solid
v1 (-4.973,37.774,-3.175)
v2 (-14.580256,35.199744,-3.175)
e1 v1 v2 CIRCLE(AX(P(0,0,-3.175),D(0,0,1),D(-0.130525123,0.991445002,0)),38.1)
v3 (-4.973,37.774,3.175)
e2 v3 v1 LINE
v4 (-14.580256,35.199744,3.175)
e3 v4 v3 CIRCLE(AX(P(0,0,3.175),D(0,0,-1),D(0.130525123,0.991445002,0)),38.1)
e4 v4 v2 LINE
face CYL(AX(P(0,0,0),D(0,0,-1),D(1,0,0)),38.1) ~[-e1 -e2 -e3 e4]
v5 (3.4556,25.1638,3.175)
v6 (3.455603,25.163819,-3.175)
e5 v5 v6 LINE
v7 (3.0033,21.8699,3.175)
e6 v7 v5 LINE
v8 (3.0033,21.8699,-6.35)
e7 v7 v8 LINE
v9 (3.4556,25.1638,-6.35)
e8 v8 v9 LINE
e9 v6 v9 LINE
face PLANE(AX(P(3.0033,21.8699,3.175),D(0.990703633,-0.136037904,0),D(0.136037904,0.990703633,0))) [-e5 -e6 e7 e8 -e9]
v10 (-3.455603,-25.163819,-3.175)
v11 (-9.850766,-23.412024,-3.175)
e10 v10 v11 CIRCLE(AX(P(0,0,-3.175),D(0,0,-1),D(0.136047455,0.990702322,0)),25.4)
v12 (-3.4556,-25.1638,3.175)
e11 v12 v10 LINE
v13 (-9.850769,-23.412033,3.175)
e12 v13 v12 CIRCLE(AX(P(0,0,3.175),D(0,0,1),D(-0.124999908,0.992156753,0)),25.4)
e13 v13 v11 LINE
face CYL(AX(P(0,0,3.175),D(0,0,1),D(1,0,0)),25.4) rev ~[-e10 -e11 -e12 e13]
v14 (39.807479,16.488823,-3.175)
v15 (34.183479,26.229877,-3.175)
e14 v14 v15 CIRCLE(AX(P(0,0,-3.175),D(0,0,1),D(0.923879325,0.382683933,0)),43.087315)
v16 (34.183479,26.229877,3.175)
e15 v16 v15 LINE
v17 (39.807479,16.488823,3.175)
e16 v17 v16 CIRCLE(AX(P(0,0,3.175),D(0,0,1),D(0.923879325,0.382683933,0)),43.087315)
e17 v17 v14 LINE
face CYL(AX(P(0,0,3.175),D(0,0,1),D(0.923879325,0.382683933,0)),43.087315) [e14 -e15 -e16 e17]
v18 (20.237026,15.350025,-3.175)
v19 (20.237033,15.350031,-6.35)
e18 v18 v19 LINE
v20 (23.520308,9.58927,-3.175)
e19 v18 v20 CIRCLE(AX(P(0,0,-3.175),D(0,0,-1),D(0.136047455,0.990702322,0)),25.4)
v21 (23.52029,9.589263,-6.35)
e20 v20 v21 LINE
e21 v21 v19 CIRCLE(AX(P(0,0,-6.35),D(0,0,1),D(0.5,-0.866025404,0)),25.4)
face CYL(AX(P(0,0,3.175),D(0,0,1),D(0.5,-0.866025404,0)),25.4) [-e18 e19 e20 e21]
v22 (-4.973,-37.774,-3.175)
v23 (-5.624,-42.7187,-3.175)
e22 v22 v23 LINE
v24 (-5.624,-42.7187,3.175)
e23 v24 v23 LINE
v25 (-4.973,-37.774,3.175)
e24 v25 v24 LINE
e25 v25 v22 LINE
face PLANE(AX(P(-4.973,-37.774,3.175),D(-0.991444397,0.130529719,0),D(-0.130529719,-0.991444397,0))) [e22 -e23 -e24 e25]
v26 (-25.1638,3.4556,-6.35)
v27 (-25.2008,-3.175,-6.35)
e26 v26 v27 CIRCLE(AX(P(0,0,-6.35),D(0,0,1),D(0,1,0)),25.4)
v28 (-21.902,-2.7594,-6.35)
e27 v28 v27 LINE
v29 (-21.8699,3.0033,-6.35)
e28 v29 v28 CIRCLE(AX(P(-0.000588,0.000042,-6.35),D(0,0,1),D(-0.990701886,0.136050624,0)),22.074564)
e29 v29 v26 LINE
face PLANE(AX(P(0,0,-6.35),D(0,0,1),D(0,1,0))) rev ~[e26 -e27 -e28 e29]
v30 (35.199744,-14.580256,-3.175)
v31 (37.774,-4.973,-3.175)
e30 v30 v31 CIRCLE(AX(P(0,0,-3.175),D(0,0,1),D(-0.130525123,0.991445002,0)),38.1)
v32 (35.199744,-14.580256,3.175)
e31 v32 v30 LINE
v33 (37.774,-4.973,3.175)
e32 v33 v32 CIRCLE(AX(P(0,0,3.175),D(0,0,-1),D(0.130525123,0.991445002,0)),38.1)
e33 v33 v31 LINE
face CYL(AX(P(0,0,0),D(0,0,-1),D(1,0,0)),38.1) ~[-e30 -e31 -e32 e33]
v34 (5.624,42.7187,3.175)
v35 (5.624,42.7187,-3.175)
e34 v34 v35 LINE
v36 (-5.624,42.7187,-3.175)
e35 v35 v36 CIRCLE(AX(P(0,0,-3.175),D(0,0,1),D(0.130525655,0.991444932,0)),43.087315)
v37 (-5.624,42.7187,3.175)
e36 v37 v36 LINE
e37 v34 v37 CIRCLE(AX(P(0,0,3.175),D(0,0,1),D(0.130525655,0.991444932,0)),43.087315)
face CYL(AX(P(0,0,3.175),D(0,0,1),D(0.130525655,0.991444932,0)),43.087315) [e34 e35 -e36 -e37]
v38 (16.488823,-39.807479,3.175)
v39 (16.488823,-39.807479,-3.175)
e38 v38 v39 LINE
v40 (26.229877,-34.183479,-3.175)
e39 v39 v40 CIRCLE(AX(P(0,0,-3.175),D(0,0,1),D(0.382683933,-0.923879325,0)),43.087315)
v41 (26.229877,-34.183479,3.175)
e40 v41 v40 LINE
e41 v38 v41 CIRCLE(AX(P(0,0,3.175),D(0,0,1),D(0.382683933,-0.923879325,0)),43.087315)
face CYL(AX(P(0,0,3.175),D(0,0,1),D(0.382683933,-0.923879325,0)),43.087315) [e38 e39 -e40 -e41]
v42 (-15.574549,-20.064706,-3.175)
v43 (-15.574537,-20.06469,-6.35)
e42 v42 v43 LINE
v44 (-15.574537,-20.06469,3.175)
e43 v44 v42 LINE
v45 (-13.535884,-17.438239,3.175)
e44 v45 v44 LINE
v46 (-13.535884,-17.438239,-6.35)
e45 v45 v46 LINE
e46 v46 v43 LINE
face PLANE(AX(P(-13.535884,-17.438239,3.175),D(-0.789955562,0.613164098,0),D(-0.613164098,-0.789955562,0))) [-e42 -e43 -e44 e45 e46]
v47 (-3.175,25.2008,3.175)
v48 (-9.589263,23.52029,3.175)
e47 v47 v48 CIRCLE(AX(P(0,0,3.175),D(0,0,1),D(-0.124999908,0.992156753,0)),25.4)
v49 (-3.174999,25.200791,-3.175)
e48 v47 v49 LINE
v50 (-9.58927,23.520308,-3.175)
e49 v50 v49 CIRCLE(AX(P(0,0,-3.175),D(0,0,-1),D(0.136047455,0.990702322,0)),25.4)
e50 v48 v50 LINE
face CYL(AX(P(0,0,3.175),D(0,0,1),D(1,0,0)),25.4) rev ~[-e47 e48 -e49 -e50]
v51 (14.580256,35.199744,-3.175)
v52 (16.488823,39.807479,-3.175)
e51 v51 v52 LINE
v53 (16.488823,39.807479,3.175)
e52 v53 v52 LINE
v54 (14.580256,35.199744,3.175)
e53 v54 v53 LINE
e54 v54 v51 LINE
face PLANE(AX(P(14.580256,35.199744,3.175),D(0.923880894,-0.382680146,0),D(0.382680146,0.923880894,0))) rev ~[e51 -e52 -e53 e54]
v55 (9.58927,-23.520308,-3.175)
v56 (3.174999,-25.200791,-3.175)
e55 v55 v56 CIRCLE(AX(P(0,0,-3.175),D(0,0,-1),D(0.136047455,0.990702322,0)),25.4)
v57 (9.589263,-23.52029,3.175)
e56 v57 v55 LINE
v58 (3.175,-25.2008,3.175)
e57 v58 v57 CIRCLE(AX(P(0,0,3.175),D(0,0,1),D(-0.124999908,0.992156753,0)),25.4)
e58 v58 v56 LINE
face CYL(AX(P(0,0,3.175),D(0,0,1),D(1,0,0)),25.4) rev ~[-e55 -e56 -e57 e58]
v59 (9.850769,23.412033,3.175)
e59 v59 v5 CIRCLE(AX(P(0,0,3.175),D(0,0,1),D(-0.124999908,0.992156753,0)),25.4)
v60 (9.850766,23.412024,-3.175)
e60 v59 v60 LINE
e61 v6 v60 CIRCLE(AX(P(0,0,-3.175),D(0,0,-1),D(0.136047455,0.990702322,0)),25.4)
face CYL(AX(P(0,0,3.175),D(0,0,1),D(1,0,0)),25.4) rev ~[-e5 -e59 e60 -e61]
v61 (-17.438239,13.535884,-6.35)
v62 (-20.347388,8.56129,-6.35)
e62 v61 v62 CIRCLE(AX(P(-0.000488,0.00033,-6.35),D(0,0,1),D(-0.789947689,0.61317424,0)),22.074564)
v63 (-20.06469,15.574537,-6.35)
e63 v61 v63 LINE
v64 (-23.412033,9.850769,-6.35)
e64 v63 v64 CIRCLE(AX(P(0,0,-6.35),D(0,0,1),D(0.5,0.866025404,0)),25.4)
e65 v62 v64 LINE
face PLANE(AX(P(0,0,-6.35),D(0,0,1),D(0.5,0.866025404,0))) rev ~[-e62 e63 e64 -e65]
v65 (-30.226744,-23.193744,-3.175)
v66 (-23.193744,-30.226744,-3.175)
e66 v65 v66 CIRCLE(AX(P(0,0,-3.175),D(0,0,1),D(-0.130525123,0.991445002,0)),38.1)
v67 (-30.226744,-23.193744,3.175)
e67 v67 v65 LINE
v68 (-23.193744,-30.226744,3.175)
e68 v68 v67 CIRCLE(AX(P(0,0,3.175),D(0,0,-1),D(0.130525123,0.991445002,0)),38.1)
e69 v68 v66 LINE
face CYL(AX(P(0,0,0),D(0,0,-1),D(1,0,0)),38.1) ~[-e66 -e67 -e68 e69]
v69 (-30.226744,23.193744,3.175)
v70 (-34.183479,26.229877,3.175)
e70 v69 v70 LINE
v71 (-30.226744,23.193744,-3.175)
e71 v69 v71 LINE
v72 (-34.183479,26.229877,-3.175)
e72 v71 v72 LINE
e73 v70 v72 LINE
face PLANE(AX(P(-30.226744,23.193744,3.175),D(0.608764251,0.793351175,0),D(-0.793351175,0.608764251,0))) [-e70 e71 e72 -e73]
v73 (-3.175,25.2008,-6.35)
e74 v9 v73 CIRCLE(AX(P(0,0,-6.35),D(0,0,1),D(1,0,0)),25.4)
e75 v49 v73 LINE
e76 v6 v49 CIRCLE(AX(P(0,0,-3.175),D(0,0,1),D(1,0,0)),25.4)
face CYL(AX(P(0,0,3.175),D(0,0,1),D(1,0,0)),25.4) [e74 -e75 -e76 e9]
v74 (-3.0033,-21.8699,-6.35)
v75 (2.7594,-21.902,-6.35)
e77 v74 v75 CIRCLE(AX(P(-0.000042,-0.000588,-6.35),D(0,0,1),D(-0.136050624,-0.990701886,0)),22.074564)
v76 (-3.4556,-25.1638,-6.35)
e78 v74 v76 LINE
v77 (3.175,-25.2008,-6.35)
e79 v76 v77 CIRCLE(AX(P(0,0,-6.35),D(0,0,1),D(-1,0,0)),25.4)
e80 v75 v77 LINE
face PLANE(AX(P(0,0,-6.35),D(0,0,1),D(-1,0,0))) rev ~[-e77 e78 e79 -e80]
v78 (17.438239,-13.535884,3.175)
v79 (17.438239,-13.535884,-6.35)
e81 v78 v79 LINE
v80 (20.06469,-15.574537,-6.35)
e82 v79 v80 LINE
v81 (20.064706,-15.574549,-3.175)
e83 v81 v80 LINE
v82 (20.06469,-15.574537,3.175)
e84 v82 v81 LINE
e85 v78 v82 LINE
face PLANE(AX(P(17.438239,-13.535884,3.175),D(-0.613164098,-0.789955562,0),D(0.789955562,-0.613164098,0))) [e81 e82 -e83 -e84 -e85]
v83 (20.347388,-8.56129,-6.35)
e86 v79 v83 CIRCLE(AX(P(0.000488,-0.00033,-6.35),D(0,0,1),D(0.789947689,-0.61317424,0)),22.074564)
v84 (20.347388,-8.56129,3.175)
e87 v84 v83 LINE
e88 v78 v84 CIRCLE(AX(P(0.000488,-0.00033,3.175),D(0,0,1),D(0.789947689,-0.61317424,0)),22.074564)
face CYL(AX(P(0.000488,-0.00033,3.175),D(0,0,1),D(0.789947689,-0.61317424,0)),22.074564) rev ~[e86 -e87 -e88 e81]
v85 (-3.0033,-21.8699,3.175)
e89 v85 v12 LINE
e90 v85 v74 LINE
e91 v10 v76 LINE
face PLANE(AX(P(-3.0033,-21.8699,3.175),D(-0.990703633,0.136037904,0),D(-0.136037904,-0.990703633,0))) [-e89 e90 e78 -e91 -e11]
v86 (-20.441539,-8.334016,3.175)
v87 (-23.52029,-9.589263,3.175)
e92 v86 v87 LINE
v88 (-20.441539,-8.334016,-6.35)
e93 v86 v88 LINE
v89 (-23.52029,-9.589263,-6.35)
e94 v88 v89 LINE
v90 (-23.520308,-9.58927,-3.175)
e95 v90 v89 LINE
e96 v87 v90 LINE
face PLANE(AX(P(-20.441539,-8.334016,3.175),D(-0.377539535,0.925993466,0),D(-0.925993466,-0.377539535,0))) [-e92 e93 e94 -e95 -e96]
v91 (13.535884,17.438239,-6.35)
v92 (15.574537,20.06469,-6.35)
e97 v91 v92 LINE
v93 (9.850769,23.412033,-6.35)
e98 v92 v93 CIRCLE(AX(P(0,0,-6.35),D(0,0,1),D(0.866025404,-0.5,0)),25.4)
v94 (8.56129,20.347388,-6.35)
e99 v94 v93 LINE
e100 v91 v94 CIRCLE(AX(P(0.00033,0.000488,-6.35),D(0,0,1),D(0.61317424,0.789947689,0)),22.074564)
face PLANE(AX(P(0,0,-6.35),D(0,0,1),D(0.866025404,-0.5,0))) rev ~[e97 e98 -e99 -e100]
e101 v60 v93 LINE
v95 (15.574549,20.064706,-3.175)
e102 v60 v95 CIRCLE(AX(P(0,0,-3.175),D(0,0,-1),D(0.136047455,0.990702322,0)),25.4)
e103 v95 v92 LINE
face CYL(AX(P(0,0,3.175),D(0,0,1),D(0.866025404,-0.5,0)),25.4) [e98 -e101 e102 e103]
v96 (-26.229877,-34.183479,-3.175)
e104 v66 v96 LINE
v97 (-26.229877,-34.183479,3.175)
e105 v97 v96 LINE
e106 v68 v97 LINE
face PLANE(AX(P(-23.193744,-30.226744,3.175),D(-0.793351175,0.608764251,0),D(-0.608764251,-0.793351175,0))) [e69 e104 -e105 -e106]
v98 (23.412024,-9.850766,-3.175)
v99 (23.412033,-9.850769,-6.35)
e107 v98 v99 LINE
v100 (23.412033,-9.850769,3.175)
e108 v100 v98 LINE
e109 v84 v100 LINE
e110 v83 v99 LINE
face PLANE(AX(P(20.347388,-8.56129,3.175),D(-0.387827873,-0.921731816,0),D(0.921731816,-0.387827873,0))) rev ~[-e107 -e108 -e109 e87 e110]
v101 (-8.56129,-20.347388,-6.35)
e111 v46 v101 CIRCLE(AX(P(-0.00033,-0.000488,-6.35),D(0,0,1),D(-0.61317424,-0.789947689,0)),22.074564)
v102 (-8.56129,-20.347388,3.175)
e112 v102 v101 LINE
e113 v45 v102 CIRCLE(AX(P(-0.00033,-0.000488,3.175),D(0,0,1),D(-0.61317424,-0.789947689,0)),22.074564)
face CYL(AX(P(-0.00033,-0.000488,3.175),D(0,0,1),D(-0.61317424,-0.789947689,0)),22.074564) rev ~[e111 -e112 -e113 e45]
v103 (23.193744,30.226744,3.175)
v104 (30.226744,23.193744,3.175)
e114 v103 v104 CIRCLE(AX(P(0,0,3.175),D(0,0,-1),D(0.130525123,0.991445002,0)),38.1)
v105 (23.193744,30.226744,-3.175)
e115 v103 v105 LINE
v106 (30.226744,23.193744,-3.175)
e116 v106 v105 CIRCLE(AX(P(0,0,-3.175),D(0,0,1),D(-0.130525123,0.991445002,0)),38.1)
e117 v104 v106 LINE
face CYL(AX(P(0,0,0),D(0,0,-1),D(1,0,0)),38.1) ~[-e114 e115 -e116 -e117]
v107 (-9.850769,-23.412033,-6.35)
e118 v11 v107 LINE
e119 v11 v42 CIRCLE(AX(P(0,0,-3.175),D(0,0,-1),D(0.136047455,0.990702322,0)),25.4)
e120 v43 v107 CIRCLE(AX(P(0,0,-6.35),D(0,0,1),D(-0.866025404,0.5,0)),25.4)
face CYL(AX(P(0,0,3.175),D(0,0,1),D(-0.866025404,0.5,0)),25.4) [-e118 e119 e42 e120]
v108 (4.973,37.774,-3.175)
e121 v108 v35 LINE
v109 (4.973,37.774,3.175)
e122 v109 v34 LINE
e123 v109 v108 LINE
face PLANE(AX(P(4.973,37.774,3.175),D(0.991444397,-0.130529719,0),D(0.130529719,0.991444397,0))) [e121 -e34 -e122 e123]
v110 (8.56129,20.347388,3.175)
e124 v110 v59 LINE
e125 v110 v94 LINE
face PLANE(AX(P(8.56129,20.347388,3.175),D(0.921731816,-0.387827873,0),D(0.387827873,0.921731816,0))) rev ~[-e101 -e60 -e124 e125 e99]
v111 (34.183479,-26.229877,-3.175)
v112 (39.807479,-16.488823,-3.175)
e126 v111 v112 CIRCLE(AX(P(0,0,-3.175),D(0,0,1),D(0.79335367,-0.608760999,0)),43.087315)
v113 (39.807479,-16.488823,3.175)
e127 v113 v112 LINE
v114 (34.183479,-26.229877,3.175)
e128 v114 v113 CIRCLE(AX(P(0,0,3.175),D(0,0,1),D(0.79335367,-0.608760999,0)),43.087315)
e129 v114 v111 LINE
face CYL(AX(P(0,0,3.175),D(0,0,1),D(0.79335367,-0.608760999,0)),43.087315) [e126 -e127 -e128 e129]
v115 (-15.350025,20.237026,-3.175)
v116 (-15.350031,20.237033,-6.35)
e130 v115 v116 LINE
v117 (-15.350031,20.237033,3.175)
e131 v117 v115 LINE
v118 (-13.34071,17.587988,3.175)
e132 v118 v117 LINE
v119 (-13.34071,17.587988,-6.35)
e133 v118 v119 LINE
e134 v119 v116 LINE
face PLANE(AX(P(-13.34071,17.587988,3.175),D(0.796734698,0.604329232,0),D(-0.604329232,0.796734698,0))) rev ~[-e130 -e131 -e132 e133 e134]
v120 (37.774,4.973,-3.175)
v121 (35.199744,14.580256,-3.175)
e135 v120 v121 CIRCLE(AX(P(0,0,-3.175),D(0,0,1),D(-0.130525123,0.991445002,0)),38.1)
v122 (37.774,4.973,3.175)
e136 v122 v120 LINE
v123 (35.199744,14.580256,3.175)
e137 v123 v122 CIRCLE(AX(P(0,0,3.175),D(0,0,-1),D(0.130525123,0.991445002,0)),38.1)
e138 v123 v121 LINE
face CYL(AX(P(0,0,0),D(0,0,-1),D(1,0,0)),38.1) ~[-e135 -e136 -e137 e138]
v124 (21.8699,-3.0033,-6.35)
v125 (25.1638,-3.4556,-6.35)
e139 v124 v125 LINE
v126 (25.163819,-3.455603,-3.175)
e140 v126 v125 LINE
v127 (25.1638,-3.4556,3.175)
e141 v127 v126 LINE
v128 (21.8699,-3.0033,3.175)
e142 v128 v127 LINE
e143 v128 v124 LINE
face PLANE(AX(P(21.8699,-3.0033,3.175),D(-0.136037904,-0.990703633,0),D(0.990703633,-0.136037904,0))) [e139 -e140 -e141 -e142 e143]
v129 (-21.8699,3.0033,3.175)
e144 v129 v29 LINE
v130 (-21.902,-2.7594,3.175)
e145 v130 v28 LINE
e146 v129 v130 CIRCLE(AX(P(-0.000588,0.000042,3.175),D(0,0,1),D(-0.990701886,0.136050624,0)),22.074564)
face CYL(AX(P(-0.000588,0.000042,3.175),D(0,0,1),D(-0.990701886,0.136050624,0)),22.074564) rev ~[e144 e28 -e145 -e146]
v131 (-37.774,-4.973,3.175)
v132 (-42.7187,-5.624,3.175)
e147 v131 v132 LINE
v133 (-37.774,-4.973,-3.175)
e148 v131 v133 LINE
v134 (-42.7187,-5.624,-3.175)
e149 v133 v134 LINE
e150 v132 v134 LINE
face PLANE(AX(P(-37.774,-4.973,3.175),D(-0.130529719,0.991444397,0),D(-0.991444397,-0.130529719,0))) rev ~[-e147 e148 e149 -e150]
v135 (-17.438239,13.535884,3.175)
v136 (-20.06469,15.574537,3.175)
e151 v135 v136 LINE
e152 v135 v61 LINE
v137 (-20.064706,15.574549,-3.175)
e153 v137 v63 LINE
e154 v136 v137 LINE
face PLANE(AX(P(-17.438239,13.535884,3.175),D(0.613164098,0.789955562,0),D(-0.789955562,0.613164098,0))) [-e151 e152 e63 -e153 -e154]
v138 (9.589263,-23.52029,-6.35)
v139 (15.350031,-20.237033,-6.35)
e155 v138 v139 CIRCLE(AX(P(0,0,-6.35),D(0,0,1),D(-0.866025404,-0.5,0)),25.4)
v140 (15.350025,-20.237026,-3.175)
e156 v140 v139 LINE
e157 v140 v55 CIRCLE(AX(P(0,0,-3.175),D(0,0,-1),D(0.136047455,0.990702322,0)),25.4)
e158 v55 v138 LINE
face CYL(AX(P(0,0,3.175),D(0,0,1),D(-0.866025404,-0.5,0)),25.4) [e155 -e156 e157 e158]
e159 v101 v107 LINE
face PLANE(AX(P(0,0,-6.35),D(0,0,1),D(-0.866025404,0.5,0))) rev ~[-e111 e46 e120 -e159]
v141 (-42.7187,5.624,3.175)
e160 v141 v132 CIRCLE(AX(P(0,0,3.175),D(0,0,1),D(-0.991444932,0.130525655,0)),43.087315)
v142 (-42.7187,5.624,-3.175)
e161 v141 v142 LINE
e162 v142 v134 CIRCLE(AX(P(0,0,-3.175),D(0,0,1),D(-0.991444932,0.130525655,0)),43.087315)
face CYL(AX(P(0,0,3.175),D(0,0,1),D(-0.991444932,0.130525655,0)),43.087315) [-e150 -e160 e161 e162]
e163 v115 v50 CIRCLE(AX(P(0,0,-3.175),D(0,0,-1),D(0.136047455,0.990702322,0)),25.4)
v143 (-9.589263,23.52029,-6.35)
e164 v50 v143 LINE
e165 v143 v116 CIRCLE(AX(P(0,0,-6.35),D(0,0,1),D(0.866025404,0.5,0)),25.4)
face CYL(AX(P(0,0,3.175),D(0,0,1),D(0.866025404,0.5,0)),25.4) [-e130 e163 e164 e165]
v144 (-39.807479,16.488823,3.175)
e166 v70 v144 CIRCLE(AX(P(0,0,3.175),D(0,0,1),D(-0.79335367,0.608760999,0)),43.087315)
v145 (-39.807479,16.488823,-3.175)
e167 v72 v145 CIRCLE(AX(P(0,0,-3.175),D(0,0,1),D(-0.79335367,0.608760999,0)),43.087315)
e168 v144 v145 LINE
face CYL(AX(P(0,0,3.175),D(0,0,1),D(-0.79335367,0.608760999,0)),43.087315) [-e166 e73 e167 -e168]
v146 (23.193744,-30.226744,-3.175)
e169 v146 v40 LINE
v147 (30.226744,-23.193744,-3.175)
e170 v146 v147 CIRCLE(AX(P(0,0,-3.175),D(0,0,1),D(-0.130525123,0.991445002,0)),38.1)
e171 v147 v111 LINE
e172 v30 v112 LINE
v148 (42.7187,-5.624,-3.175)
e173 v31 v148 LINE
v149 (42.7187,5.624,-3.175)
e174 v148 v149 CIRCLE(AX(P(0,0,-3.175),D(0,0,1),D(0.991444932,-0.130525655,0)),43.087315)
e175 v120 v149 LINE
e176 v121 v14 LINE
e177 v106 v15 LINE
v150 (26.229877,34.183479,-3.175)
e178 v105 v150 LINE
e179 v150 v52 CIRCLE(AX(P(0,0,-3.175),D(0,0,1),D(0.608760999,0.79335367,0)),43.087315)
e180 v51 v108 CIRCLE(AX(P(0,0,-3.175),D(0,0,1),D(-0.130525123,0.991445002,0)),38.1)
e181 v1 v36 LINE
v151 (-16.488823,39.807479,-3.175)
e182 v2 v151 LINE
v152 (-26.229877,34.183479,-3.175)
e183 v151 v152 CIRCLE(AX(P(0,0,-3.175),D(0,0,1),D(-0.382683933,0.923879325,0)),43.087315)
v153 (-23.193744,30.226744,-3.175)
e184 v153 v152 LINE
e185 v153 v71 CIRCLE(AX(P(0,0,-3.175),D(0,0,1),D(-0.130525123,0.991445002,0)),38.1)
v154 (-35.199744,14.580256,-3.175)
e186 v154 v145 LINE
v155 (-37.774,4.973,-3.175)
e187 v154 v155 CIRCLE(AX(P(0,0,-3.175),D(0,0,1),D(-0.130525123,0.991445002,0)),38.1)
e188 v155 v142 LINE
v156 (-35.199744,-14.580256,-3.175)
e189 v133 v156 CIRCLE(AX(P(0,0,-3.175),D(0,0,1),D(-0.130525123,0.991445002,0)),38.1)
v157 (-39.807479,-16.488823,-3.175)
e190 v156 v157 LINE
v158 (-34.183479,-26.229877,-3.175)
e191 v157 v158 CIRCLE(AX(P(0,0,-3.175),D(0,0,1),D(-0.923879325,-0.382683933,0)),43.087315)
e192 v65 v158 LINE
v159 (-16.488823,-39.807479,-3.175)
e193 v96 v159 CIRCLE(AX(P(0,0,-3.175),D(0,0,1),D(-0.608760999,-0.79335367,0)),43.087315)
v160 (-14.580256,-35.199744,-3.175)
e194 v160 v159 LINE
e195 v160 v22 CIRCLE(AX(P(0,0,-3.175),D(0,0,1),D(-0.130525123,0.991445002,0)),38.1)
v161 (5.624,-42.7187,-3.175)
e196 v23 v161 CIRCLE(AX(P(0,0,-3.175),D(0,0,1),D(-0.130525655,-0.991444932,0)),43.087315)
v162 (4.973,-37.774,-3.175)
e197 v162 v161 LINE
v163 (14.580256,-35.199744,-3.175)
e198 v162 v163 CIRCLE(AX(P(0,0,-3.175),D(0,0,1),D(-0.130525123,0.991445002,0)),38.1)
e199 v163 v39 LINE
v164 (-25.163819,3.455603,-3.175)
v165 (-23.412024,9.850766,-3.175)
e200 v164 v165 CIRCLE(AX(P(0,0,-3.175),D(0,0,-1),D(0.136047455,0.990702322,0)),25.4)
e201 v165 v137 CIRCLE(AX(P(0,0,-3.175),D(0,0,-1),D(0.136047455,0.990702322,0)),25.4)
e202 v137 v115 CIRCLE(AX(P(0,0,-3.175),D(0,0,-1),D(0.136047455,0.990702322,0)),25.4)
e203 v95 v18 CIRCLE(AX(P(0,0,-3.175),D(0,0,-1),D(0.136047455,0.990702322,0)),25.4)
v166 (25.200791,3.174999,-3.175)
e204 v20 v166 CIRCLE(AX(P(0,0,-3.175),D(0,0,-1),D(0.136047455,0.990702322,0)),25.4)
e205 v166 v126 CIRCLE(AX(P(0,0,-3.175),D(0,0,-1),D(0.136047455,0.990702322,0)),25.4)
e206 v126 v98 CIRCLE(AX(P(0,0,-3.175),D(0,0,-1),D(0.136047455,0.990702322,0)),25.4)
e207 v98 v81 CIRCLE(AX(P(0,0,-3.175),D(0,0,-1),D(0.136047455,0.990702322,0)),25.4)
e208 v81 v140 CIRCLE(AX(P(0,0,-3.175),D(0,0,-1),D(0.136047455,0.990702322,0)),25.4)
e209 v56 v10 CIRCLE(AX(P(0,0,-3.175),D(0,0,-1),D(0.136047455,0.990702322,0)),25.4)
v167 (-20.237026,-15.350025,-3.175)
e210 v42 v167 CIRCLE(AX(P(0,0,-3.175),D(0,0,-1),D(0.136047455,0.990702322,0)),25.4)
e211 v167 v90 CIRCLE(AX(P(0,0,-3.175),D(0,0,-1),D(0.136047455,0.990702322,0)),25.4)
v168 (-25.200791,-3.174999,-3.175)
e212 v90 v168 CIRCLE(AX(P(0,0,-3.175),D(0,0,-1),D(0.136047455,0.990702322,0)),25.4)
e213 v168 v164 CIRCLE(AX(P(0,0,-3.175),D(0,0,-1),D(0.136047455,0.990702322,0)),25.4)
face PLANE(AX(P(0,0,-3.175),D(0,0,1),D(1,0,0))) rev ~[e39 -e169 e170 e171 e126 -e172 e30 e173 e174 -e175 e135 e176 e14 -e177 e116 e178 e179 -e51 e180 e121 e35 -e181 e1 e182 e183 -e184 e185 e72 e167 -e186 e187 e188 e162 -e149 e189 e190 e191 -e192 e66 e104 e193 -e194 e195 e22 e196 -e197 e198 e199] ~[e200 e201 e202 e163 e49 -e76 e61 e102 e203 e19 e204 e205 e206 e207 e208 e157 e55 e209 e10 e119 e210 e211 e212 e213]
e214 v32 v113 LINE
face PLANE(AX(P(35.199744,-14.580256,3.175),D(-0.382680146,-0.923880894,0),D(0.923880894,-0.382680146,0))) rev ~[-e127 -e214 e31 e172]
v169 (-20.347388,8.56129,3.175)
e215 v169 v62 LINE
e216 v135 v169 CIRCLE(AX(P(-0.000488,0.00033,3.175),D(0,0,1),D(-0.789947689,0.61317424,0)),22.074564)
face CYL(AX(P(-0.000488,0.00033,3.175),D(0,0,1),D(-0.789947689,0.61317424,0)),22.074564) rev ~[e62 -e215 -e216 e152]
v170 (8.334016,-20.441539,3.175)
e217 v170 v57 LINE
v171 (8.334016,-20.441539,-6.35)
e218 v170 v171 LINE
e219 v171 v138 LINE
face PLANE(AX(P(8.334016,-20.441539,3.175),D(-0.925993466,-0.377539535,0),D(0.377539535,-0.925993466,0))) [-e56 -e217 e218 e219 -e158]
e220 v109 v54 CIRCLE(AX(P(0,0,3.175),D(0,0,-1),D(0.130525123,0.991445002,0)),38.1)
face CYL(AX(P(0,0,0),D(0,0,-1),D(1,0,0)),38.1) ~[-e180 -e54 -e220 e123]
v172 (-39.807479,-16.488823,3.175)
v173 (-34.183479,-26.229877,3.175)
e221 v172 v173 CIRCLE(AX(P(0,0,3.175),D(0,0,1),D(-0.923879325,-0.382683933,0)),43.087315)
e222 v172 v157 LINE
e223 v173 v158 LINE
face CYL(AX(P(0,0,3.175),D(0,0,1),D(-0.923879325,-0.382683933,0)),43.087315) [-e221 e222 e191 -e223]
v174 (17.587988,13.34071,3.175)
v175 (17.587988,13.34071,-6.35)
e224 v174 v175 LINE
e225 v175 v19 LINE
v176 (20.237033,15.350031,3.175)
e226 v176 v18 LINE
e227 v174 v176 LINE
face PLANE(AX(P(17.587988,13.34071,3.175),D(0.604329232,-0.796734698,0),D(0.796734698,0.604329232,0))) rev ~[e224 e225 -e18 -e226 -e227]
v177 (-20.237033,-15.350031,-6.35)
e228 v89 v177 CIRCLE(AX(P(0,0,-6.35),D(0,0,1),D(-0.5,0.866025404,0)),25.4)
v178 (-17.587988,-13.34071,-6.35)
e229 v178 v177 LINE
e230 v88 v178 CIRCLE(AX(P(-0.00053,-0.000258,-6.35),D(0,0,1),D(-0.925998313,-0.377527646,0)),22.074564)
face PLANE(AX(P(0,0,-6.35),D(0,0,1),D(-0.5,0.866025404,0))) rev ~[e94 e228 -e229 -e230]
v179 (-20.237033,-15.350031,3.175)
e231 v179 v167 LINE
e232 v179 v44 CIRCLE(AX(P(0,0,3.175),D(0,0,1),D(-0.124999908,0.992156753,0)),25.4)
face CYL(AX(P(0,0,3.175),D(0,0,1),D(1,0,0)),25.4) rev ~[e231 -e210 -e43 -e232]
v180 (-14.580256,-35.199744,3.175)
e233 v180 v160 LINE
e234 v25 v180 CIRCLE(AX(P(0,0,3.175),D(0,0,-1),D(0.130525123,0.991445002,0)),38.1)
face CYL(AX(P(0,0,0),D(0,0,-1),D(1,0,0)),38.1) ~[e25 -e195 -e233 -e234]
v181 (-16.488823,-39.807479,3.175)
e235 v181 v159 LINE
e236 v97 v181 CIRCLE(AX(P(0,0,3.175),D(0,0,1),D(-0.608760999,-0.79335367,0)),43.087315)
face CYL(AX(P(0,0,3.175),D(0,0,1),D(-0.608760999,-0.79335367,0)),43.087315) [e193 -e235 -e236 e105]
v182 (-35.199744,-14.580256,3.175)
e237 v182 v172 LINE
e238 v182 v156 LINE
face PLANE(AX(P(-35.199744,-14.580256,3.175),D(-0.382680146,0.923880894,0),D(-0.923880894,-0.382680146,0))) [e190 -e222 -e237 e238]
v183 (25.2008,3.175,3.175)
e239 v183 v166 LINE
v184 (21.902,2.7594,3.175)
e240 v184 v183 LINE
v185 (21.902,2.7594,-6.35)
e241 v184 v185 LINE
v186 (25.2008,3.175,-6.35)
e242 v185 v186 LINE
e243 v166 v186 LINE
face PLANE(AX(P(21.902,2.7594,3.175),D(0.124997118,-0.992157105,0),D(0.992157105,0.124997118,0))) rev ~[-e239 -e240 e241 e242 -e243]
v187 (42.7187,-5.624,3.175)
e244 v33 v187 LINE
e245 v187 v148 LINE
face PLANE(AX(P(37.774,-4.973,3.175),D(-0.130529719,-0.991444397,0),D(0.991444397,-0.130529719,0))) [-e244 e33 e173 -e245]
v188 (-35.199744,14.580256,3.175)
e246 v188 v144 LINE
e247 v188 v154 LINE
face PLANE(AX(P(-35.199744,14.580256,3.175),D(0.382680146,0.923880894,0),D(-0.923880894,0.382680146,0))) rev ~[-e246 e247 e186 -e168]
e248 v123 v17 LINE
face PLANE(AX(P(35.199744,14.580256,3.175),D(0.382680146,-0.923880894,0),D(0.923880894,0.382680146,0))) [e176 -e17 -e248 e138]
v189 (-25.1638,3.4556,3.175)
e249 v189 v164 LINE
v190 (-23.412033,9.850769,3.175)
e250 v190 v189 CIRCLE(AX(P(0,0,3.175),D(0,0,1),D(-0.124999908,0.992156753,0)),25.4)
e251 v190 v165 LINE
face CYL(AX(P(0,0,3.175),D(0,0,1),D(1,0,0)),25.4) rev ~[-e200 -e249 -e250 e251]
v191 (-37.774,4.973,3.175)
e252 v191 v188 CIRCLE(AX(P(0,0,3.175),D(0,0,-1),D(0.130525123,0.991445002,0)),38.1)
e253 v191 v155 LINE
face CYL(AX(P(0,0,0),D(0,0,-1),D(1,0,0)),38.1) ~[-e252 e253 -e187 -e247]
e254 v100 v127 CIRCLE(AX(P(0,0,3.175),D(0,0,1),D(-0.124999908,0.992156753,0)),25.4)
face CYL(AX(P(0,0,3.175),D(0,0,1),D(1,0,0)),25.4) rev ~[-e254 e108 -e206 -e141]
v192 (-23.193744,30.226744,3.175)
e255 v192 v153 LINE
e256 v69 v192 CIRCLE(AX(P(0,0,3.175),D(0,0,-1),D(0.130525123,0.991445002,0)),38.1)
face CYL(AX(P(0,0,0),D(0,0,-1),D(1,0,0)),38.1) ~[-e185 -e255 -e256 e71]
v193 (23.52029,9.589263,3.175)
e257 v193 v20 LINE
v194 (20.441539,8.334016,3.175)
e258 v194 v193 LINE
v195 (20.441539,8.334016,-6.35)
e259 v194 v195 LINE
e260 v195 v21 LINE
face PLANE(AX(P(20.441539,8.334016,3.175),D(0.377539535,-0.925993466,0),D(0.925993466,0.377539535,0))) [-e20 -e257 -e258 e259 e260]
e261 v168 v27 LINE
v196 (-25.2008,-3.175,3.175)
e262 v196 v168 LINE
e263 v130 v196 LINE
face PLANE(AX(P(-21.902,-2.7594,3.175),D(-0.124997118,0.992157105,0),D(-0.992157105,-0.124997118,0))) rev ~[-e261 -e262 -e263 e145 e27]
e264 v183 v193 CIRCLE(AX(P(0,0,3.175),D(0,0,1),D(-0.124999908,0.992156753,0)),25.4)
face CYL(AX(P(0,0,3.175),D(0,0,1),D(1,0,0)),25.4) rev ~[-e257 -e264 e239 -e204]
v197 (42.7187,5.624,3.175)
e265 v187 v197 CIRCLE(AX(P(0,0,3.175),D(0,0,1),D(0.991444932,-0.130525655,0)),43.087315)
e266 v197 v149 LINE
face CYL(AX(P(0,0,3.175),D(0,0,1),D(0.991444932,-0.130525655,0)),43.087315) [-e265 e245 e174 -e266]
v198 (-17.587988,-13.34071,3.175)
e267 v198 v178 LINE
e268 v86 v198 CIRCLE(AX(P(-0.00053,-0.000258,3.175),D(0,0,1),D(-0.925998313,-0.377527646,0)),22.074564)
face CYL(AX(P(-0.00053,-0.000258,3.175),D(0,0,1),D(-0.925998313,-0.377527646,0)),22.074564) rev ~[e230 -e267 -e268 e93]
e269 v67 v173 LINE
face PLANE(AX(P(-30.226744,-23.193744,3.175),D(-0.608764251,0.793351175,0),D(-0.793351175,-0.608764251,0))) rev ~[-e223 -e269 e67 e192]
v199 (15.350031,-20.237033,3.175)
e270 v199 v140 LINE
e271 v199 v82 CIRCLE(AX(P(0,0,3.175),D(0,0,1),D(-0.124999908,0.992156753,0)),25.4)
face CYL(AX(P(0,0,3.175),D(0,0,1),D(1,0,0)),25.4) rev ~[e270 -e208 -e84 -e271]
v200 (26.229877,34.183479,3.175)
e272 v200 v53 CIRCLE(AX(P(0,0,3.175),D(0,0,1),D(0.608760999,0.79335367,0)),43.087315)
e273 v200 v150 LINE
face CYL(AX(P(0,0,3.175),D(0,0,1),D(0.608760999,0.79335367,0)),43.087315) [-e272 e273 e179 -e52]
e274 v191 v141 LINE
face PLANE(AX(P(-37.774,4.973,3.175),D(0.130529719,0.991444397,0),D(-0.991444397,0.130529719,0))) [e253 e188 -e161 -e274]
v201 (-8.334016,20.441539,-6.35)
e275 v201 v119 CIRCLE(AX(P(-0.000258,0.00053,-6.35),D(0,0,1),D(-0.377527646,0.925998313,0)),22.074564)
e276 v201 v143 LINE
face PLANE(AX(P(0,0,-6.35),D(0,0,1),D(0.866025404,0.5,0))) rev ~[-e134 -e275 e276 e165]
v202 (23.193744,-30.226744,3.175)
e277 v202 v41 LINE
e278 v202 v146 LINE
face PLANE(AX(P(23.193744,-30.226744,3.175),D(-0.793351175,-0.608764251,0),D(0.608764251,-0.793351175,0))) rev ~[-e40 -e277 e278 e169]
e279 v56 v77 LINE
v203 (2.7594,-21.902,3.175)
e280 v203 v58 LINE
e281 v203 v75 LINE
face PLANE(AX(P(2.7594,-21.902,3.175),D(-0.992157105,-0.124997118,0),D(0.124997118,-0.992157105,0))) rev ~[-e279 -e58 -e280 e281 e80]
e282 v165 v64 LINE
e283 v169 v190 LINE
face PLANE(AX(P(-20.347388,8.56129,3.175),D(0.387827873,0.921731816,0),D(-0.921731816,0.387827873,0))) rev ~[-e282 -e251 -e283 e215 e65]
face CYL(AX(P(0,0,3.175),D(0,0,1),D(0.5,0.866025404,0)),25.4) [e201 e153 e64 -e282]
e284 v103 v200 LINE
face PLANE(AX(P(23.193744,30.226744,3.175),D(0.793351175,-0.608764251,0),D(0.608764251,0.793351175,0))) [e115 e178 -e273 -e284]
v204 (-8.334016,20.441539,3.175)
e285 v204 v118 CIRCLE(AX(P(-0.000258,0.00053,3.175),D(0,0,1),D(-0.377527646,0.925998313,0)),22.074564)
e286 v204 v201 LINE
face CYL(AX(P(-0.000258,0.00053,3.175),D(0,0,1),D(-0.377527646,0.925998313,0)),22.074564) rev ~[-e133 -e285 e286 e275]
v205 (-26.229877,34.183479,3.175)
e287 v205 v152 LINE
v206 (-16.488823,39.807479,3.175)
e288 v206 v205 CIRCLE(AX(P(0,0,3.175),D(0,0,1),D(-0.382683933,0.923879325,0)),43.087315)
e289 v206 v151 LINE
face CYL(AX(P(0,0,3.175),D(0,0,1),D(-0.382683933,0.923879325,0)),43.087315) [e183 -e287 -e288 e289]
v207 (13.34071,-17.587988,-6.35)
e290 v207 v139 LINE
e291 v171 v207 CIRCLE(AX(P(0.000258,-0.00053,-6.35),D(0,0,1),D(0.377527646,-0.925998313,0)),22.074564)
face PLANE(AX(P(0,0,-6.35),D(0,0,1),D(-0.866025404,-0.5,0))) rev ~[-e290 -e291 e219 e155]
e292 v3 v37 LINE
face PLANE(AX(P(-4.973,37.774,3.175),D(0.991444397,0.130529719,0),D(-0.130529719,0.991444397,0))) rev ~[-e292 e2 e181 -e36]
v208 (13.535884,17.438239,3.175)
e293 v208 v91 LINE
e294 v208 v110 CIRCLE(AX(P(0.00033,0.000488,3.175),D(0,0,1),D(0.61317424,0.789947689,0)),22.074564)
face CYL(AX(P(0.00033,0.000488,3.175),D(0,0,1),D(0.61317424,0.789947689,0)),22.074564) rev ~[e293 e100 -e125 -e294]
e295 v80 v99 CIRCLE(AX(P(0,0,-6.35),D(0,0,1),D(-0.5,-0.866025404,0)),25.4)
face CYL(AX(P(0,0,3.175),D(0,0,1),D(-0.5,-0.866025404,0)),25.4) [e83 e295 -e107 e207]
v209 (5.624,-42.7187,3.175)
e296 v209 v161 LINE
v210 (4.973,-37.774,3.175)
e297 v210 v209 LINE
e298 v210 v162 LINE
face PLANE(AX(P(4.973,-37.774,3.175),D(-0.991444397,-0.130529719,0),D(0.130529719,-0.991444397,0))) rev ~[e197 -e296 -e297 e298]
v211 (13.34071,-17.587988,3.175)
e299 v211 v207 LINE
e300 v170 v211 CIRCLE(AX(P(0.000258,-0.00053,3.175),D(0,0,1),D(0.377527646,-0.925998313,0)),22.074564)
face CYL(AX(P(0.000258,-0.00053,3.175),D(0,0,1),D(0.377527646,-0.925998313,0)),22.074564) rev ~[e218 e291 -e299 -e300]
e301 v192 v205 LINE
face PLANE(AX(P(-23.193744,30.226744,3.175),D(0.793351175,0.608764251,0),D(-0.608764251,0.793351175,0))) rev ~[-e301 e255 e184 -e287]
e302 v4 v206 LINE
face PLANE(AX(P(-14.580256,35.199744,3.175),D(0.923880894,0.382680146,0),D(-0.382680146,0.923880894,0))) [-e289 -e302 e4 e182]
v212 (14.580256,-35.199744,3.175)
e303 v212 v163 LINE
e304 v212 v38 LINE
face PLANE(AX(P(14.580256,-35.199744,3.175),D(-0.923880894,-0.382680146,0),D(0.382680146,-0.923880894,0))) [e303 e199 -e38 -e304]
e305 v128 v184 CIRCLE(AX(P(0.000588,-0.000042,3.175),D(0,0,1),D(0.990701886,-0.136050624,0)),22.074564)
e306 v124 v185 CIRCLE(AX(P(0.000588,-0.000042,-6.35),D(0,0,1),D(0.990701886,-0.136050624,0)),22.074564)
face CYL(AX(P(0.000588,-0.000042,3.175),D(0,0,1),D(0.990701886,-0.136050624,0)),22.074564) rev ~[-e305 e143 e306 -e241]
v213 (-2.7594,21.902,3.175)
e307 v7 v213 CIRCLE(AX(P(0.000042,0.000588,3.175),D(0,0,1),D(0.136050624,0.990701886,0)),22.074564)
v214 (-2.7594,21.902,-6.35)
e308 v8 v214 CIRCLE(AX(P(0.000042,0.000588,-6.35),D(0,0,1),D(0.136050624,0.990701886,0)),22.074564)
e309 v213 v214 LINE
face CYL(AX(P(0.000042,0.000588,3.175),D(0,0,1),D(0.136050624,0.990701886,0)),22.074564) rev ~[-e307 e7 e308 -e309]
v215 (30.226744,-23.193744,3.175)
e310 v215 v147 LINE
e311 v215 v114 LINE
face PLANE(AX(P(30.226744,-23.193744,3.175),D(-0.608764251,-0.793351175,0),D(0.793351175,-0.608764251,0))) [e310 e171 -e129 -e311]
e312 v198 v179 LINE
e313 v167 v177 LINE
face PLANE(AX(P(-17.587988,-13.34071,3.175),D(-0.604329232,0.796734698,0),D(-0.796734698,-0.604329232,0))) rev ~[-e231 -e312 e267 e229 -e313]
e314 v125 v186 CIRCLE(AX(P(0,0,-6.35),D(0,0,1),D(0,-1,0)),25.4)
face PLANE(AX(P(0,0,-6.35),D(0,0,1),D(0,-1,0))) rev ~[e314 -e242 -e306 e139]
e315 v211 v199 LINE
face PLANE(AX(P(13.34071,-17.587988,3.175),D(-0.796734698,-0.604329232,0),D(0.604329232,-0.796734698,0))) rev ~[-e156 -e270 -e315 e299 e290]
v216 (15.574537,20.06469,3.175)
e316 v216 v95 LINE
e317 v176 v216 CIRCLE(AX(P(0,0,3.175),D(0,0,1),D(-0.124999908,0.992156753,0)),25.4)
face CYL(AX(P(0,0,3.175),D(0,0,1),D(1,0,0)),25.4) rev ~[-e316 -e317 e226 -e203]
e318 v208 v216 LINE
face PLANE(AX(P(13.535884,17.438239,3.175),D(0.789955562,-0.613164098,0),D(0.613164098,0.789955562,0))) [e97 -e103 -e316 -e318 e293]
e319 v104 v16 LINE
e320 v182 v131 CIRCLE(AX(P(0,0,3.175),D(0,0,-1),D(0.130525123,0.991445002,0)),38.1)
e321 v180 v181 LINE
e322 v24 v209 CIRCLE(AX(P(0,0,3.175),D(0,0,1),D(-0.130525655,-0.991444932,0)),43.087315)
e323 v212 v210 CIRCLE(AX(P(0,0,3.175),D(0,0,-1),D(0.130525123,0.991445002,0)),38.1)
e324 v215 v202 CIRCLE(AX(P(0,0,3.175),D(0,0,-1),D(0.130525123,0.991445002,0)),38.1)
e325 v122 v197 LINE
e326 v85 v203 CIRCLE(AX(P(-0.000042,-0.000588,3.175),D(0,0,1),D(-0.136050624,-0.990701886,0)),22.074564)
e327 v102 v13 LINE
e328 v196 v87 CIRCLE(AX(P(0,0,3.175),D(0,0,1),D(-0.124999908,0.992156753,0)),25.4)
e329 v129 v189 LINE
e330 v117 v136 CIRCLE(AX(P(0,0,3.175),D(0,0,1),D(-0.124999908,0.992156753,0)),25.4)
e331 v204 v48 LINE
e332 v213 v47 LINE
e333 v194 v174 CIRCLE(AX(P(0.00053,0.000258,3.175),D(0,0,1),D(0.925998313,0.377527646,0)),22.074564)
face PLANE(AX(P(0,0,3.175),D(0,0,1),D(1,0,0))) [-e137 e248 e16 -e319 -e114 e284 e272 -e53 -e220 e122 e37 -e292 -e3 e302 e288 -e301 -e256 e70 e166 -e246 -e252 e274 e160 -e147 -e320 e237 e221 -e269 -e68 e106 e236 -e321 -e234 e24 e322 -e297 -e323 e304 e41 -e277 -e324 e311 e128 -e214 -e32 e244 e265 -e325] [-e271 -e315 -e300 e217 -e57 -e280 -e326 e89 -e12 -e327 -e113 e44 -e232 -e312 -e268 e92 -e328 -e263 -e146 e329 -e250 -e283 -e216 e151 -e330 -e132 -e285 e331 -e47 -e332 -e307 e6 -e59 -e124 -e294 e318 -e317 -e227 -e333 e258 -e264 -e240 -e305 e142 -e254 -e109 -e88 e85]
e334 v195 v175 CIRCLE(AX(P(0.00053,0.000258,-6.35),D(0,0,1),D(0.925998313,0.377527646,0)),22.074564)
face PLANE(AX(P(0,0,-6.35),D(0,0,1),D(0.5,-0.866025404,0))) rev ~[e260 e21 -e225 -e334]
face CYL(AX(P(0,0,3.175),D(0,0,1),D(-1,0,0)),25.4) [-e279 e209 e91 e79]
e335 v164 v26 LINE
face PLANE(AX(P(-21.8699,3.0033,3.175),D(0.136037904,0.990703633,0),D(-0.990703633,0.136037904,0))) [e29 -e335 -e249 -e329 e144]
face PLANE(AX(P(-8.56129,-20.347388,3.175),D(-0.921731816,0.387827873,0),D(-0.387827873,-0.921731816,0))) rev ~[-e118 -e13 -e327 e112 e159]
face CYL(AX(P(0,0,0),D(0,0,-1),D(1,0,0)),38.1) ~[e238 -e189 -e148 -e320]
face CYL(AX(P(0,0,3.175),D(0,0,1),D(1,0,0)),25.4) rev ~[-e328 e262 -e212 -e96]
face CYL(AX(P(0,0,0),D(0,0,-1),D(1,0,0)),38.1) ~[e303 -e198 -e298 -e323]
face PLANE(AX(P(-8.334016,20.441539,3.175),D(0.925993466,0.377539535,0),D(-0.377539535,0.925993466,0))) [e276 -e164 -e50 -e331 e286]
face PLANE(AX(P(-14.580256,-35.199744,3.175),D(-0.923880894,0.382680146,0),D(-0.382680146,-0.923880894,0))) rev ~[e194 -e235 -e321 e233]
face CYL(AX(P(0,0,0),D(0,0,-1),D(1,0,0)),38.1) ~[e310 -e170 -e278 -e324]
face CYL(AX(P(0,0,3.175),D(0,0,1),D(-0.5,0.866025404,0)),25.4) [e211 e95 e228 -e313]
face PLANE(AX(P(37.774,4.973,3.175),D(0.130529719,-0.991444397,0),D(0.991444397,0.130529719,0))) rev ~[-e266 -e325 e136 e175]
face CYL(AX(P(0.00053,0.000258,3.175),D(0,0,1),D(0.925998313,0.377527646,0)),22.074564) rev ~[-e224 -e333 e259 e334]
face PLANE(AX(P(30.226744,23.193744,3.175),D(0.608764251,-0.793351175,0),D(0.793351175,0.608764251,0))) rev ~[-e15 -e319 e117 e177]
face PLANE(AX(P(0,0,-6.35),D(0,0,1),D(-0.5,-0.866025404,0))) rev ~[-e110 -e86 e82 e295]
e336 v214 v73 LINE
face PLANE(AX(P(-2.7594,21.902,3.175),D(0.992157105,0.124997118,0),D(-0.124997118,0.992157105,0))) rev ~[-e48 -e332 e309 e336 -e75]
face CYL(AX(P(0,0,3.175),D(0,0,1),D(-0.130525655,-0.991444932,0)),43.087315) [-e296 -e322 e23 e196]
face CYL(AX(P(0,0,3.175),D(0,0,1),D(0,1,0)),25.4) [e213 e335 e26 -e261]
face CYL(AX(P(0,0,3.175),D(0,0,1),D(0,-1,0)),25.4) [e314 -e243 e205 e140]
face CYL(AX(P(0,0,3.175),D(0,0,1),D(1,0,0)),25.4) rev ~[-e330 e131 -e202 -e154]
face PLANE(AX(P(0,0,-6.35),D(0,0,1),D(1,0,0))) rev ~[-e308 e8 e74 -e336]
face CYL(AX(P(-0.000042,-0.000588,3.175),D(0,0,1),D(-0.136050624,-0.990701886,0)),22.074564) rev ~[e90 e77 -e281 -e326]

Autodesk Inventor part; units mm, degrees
ref_plane "YZ Plane" through (0, 0, 0) normal (1, 0, 0) x (0, 1, 0)
ref_plane "XZ Plane" through (0, 0, 0) normal (0, 1, 0) x (-1, 0, 0)
ref_plane "XY Plane" through (0, 0, 0) normal (0, 0, 1) x (1, 0, 0)
sketch "Sketch1" plane through (0, 0, 0) normal (0, 0, 1) x (1, 0, 0)
  circle A0 centre (0, 0) radius 38.1
  dimension "d0" = 76.2
extrude "Extrusion1" add sketch "Sketch1" along normal mid plane 6.35
sketch "Sketch3" plane through (0, 0, 3.175) normal (0, 0, 1) x (1, 0, 0)
  circle A0 centre (0, 0) radius 25.4
  dimension "d8" = 50.8
extrude "Extrusion3" cut sketch "Sketch3" against normal through all
sketch "Sketch4" plane through (0, 0, 3.175) normal (0, 0, 1) x (1, 0, 0)
  circle A0 centre (0, 0) radius 25.4 projected
  arc A1 (3.4556, 25.1638) -> (-3.175, 25.2008) centre (0, 0) ccw
  arc A2 (3.0033, 21.8699) -> (-2.7594, 21.902) centre (0, 0) ccw
  line L0 (3.0033, 21.8699) -> (3.4556, 25.1638)
  line L1 (-2.7594, 21.902) -> (-3.175, 25.2008)
  dimension "d32" = 3.3249
  dimension "d34" = 15
extrude "Extrusion8" add sketch "Sketch4" against normal blind 9.525 contours L0 A2 L1 A0 picked at (-2.3003, 24.1615)
pattern_circular "Circular Pattern3" count 12 over 360 about axis through (0, 0, -10) along (0, 0, 1) of "Extrusion8"
sketch "Sketch8" plane through (0, 0, 3.175) normal (0, 0, 1) x (1, 0, 0)
  arc A0 (5.624, 42.7187) -> (-5.624, 42.7187) centre (0, 0) ccw
  circle A1 centre (0, 0) radius 38.1 projected
  line L0 (4.973, 37.774) -> (5.624, 42.7187)
  line L1 (-4.973, 37.774) -> (-5.624, 42.7187)
  line L2 (0, 0) -> (0, 43.0873) construction
  arc A2 (4.973, 37.774) -> (-4.973, 37.774) centre (0, 0) ccw
  dimension "d40" = 4.9873
  dimension "d41" = 15
  dimension "d42" = 7.5
extrude "Extrusion9" add sketch "Sketch8" against normal blind 6.35 contours L0 A1 L1 A0
pattern_circular "Circular Pattern4" count 12 over 360 about axis through (0, 0, -10) along (0, 0, 1) of "Extrusion9"
equation "\"d0\" = externalDiameter"
equation "\"d8\" = internalDiameter"
equation "\"d32\" = depthOfInternalSpline"
equation "\"d35\" = thickness"
equation "\"d40\" = depthOfExternalSpline"
equation "\"internalDiameter\" = 50.8"
equation "\"externalDiameter\" = 76.2"
equation "\"pi\" = 3.141593"
equation "\"depthOfInternalSpline\" = 0.5 * widthOfInternalSpline"
equation "\"depthOfExternalSpline\" = 0.5 * widthOfExternalSpline"
equation "\"thickness\" = 9.525"
equation "\"widthOfInternalSpline\" = 6.649704"
equation "\"widthOfExternalSpline\" = 9.974557"
properties part number "outerPartOfLock" material "PC/ABS Plastic"
